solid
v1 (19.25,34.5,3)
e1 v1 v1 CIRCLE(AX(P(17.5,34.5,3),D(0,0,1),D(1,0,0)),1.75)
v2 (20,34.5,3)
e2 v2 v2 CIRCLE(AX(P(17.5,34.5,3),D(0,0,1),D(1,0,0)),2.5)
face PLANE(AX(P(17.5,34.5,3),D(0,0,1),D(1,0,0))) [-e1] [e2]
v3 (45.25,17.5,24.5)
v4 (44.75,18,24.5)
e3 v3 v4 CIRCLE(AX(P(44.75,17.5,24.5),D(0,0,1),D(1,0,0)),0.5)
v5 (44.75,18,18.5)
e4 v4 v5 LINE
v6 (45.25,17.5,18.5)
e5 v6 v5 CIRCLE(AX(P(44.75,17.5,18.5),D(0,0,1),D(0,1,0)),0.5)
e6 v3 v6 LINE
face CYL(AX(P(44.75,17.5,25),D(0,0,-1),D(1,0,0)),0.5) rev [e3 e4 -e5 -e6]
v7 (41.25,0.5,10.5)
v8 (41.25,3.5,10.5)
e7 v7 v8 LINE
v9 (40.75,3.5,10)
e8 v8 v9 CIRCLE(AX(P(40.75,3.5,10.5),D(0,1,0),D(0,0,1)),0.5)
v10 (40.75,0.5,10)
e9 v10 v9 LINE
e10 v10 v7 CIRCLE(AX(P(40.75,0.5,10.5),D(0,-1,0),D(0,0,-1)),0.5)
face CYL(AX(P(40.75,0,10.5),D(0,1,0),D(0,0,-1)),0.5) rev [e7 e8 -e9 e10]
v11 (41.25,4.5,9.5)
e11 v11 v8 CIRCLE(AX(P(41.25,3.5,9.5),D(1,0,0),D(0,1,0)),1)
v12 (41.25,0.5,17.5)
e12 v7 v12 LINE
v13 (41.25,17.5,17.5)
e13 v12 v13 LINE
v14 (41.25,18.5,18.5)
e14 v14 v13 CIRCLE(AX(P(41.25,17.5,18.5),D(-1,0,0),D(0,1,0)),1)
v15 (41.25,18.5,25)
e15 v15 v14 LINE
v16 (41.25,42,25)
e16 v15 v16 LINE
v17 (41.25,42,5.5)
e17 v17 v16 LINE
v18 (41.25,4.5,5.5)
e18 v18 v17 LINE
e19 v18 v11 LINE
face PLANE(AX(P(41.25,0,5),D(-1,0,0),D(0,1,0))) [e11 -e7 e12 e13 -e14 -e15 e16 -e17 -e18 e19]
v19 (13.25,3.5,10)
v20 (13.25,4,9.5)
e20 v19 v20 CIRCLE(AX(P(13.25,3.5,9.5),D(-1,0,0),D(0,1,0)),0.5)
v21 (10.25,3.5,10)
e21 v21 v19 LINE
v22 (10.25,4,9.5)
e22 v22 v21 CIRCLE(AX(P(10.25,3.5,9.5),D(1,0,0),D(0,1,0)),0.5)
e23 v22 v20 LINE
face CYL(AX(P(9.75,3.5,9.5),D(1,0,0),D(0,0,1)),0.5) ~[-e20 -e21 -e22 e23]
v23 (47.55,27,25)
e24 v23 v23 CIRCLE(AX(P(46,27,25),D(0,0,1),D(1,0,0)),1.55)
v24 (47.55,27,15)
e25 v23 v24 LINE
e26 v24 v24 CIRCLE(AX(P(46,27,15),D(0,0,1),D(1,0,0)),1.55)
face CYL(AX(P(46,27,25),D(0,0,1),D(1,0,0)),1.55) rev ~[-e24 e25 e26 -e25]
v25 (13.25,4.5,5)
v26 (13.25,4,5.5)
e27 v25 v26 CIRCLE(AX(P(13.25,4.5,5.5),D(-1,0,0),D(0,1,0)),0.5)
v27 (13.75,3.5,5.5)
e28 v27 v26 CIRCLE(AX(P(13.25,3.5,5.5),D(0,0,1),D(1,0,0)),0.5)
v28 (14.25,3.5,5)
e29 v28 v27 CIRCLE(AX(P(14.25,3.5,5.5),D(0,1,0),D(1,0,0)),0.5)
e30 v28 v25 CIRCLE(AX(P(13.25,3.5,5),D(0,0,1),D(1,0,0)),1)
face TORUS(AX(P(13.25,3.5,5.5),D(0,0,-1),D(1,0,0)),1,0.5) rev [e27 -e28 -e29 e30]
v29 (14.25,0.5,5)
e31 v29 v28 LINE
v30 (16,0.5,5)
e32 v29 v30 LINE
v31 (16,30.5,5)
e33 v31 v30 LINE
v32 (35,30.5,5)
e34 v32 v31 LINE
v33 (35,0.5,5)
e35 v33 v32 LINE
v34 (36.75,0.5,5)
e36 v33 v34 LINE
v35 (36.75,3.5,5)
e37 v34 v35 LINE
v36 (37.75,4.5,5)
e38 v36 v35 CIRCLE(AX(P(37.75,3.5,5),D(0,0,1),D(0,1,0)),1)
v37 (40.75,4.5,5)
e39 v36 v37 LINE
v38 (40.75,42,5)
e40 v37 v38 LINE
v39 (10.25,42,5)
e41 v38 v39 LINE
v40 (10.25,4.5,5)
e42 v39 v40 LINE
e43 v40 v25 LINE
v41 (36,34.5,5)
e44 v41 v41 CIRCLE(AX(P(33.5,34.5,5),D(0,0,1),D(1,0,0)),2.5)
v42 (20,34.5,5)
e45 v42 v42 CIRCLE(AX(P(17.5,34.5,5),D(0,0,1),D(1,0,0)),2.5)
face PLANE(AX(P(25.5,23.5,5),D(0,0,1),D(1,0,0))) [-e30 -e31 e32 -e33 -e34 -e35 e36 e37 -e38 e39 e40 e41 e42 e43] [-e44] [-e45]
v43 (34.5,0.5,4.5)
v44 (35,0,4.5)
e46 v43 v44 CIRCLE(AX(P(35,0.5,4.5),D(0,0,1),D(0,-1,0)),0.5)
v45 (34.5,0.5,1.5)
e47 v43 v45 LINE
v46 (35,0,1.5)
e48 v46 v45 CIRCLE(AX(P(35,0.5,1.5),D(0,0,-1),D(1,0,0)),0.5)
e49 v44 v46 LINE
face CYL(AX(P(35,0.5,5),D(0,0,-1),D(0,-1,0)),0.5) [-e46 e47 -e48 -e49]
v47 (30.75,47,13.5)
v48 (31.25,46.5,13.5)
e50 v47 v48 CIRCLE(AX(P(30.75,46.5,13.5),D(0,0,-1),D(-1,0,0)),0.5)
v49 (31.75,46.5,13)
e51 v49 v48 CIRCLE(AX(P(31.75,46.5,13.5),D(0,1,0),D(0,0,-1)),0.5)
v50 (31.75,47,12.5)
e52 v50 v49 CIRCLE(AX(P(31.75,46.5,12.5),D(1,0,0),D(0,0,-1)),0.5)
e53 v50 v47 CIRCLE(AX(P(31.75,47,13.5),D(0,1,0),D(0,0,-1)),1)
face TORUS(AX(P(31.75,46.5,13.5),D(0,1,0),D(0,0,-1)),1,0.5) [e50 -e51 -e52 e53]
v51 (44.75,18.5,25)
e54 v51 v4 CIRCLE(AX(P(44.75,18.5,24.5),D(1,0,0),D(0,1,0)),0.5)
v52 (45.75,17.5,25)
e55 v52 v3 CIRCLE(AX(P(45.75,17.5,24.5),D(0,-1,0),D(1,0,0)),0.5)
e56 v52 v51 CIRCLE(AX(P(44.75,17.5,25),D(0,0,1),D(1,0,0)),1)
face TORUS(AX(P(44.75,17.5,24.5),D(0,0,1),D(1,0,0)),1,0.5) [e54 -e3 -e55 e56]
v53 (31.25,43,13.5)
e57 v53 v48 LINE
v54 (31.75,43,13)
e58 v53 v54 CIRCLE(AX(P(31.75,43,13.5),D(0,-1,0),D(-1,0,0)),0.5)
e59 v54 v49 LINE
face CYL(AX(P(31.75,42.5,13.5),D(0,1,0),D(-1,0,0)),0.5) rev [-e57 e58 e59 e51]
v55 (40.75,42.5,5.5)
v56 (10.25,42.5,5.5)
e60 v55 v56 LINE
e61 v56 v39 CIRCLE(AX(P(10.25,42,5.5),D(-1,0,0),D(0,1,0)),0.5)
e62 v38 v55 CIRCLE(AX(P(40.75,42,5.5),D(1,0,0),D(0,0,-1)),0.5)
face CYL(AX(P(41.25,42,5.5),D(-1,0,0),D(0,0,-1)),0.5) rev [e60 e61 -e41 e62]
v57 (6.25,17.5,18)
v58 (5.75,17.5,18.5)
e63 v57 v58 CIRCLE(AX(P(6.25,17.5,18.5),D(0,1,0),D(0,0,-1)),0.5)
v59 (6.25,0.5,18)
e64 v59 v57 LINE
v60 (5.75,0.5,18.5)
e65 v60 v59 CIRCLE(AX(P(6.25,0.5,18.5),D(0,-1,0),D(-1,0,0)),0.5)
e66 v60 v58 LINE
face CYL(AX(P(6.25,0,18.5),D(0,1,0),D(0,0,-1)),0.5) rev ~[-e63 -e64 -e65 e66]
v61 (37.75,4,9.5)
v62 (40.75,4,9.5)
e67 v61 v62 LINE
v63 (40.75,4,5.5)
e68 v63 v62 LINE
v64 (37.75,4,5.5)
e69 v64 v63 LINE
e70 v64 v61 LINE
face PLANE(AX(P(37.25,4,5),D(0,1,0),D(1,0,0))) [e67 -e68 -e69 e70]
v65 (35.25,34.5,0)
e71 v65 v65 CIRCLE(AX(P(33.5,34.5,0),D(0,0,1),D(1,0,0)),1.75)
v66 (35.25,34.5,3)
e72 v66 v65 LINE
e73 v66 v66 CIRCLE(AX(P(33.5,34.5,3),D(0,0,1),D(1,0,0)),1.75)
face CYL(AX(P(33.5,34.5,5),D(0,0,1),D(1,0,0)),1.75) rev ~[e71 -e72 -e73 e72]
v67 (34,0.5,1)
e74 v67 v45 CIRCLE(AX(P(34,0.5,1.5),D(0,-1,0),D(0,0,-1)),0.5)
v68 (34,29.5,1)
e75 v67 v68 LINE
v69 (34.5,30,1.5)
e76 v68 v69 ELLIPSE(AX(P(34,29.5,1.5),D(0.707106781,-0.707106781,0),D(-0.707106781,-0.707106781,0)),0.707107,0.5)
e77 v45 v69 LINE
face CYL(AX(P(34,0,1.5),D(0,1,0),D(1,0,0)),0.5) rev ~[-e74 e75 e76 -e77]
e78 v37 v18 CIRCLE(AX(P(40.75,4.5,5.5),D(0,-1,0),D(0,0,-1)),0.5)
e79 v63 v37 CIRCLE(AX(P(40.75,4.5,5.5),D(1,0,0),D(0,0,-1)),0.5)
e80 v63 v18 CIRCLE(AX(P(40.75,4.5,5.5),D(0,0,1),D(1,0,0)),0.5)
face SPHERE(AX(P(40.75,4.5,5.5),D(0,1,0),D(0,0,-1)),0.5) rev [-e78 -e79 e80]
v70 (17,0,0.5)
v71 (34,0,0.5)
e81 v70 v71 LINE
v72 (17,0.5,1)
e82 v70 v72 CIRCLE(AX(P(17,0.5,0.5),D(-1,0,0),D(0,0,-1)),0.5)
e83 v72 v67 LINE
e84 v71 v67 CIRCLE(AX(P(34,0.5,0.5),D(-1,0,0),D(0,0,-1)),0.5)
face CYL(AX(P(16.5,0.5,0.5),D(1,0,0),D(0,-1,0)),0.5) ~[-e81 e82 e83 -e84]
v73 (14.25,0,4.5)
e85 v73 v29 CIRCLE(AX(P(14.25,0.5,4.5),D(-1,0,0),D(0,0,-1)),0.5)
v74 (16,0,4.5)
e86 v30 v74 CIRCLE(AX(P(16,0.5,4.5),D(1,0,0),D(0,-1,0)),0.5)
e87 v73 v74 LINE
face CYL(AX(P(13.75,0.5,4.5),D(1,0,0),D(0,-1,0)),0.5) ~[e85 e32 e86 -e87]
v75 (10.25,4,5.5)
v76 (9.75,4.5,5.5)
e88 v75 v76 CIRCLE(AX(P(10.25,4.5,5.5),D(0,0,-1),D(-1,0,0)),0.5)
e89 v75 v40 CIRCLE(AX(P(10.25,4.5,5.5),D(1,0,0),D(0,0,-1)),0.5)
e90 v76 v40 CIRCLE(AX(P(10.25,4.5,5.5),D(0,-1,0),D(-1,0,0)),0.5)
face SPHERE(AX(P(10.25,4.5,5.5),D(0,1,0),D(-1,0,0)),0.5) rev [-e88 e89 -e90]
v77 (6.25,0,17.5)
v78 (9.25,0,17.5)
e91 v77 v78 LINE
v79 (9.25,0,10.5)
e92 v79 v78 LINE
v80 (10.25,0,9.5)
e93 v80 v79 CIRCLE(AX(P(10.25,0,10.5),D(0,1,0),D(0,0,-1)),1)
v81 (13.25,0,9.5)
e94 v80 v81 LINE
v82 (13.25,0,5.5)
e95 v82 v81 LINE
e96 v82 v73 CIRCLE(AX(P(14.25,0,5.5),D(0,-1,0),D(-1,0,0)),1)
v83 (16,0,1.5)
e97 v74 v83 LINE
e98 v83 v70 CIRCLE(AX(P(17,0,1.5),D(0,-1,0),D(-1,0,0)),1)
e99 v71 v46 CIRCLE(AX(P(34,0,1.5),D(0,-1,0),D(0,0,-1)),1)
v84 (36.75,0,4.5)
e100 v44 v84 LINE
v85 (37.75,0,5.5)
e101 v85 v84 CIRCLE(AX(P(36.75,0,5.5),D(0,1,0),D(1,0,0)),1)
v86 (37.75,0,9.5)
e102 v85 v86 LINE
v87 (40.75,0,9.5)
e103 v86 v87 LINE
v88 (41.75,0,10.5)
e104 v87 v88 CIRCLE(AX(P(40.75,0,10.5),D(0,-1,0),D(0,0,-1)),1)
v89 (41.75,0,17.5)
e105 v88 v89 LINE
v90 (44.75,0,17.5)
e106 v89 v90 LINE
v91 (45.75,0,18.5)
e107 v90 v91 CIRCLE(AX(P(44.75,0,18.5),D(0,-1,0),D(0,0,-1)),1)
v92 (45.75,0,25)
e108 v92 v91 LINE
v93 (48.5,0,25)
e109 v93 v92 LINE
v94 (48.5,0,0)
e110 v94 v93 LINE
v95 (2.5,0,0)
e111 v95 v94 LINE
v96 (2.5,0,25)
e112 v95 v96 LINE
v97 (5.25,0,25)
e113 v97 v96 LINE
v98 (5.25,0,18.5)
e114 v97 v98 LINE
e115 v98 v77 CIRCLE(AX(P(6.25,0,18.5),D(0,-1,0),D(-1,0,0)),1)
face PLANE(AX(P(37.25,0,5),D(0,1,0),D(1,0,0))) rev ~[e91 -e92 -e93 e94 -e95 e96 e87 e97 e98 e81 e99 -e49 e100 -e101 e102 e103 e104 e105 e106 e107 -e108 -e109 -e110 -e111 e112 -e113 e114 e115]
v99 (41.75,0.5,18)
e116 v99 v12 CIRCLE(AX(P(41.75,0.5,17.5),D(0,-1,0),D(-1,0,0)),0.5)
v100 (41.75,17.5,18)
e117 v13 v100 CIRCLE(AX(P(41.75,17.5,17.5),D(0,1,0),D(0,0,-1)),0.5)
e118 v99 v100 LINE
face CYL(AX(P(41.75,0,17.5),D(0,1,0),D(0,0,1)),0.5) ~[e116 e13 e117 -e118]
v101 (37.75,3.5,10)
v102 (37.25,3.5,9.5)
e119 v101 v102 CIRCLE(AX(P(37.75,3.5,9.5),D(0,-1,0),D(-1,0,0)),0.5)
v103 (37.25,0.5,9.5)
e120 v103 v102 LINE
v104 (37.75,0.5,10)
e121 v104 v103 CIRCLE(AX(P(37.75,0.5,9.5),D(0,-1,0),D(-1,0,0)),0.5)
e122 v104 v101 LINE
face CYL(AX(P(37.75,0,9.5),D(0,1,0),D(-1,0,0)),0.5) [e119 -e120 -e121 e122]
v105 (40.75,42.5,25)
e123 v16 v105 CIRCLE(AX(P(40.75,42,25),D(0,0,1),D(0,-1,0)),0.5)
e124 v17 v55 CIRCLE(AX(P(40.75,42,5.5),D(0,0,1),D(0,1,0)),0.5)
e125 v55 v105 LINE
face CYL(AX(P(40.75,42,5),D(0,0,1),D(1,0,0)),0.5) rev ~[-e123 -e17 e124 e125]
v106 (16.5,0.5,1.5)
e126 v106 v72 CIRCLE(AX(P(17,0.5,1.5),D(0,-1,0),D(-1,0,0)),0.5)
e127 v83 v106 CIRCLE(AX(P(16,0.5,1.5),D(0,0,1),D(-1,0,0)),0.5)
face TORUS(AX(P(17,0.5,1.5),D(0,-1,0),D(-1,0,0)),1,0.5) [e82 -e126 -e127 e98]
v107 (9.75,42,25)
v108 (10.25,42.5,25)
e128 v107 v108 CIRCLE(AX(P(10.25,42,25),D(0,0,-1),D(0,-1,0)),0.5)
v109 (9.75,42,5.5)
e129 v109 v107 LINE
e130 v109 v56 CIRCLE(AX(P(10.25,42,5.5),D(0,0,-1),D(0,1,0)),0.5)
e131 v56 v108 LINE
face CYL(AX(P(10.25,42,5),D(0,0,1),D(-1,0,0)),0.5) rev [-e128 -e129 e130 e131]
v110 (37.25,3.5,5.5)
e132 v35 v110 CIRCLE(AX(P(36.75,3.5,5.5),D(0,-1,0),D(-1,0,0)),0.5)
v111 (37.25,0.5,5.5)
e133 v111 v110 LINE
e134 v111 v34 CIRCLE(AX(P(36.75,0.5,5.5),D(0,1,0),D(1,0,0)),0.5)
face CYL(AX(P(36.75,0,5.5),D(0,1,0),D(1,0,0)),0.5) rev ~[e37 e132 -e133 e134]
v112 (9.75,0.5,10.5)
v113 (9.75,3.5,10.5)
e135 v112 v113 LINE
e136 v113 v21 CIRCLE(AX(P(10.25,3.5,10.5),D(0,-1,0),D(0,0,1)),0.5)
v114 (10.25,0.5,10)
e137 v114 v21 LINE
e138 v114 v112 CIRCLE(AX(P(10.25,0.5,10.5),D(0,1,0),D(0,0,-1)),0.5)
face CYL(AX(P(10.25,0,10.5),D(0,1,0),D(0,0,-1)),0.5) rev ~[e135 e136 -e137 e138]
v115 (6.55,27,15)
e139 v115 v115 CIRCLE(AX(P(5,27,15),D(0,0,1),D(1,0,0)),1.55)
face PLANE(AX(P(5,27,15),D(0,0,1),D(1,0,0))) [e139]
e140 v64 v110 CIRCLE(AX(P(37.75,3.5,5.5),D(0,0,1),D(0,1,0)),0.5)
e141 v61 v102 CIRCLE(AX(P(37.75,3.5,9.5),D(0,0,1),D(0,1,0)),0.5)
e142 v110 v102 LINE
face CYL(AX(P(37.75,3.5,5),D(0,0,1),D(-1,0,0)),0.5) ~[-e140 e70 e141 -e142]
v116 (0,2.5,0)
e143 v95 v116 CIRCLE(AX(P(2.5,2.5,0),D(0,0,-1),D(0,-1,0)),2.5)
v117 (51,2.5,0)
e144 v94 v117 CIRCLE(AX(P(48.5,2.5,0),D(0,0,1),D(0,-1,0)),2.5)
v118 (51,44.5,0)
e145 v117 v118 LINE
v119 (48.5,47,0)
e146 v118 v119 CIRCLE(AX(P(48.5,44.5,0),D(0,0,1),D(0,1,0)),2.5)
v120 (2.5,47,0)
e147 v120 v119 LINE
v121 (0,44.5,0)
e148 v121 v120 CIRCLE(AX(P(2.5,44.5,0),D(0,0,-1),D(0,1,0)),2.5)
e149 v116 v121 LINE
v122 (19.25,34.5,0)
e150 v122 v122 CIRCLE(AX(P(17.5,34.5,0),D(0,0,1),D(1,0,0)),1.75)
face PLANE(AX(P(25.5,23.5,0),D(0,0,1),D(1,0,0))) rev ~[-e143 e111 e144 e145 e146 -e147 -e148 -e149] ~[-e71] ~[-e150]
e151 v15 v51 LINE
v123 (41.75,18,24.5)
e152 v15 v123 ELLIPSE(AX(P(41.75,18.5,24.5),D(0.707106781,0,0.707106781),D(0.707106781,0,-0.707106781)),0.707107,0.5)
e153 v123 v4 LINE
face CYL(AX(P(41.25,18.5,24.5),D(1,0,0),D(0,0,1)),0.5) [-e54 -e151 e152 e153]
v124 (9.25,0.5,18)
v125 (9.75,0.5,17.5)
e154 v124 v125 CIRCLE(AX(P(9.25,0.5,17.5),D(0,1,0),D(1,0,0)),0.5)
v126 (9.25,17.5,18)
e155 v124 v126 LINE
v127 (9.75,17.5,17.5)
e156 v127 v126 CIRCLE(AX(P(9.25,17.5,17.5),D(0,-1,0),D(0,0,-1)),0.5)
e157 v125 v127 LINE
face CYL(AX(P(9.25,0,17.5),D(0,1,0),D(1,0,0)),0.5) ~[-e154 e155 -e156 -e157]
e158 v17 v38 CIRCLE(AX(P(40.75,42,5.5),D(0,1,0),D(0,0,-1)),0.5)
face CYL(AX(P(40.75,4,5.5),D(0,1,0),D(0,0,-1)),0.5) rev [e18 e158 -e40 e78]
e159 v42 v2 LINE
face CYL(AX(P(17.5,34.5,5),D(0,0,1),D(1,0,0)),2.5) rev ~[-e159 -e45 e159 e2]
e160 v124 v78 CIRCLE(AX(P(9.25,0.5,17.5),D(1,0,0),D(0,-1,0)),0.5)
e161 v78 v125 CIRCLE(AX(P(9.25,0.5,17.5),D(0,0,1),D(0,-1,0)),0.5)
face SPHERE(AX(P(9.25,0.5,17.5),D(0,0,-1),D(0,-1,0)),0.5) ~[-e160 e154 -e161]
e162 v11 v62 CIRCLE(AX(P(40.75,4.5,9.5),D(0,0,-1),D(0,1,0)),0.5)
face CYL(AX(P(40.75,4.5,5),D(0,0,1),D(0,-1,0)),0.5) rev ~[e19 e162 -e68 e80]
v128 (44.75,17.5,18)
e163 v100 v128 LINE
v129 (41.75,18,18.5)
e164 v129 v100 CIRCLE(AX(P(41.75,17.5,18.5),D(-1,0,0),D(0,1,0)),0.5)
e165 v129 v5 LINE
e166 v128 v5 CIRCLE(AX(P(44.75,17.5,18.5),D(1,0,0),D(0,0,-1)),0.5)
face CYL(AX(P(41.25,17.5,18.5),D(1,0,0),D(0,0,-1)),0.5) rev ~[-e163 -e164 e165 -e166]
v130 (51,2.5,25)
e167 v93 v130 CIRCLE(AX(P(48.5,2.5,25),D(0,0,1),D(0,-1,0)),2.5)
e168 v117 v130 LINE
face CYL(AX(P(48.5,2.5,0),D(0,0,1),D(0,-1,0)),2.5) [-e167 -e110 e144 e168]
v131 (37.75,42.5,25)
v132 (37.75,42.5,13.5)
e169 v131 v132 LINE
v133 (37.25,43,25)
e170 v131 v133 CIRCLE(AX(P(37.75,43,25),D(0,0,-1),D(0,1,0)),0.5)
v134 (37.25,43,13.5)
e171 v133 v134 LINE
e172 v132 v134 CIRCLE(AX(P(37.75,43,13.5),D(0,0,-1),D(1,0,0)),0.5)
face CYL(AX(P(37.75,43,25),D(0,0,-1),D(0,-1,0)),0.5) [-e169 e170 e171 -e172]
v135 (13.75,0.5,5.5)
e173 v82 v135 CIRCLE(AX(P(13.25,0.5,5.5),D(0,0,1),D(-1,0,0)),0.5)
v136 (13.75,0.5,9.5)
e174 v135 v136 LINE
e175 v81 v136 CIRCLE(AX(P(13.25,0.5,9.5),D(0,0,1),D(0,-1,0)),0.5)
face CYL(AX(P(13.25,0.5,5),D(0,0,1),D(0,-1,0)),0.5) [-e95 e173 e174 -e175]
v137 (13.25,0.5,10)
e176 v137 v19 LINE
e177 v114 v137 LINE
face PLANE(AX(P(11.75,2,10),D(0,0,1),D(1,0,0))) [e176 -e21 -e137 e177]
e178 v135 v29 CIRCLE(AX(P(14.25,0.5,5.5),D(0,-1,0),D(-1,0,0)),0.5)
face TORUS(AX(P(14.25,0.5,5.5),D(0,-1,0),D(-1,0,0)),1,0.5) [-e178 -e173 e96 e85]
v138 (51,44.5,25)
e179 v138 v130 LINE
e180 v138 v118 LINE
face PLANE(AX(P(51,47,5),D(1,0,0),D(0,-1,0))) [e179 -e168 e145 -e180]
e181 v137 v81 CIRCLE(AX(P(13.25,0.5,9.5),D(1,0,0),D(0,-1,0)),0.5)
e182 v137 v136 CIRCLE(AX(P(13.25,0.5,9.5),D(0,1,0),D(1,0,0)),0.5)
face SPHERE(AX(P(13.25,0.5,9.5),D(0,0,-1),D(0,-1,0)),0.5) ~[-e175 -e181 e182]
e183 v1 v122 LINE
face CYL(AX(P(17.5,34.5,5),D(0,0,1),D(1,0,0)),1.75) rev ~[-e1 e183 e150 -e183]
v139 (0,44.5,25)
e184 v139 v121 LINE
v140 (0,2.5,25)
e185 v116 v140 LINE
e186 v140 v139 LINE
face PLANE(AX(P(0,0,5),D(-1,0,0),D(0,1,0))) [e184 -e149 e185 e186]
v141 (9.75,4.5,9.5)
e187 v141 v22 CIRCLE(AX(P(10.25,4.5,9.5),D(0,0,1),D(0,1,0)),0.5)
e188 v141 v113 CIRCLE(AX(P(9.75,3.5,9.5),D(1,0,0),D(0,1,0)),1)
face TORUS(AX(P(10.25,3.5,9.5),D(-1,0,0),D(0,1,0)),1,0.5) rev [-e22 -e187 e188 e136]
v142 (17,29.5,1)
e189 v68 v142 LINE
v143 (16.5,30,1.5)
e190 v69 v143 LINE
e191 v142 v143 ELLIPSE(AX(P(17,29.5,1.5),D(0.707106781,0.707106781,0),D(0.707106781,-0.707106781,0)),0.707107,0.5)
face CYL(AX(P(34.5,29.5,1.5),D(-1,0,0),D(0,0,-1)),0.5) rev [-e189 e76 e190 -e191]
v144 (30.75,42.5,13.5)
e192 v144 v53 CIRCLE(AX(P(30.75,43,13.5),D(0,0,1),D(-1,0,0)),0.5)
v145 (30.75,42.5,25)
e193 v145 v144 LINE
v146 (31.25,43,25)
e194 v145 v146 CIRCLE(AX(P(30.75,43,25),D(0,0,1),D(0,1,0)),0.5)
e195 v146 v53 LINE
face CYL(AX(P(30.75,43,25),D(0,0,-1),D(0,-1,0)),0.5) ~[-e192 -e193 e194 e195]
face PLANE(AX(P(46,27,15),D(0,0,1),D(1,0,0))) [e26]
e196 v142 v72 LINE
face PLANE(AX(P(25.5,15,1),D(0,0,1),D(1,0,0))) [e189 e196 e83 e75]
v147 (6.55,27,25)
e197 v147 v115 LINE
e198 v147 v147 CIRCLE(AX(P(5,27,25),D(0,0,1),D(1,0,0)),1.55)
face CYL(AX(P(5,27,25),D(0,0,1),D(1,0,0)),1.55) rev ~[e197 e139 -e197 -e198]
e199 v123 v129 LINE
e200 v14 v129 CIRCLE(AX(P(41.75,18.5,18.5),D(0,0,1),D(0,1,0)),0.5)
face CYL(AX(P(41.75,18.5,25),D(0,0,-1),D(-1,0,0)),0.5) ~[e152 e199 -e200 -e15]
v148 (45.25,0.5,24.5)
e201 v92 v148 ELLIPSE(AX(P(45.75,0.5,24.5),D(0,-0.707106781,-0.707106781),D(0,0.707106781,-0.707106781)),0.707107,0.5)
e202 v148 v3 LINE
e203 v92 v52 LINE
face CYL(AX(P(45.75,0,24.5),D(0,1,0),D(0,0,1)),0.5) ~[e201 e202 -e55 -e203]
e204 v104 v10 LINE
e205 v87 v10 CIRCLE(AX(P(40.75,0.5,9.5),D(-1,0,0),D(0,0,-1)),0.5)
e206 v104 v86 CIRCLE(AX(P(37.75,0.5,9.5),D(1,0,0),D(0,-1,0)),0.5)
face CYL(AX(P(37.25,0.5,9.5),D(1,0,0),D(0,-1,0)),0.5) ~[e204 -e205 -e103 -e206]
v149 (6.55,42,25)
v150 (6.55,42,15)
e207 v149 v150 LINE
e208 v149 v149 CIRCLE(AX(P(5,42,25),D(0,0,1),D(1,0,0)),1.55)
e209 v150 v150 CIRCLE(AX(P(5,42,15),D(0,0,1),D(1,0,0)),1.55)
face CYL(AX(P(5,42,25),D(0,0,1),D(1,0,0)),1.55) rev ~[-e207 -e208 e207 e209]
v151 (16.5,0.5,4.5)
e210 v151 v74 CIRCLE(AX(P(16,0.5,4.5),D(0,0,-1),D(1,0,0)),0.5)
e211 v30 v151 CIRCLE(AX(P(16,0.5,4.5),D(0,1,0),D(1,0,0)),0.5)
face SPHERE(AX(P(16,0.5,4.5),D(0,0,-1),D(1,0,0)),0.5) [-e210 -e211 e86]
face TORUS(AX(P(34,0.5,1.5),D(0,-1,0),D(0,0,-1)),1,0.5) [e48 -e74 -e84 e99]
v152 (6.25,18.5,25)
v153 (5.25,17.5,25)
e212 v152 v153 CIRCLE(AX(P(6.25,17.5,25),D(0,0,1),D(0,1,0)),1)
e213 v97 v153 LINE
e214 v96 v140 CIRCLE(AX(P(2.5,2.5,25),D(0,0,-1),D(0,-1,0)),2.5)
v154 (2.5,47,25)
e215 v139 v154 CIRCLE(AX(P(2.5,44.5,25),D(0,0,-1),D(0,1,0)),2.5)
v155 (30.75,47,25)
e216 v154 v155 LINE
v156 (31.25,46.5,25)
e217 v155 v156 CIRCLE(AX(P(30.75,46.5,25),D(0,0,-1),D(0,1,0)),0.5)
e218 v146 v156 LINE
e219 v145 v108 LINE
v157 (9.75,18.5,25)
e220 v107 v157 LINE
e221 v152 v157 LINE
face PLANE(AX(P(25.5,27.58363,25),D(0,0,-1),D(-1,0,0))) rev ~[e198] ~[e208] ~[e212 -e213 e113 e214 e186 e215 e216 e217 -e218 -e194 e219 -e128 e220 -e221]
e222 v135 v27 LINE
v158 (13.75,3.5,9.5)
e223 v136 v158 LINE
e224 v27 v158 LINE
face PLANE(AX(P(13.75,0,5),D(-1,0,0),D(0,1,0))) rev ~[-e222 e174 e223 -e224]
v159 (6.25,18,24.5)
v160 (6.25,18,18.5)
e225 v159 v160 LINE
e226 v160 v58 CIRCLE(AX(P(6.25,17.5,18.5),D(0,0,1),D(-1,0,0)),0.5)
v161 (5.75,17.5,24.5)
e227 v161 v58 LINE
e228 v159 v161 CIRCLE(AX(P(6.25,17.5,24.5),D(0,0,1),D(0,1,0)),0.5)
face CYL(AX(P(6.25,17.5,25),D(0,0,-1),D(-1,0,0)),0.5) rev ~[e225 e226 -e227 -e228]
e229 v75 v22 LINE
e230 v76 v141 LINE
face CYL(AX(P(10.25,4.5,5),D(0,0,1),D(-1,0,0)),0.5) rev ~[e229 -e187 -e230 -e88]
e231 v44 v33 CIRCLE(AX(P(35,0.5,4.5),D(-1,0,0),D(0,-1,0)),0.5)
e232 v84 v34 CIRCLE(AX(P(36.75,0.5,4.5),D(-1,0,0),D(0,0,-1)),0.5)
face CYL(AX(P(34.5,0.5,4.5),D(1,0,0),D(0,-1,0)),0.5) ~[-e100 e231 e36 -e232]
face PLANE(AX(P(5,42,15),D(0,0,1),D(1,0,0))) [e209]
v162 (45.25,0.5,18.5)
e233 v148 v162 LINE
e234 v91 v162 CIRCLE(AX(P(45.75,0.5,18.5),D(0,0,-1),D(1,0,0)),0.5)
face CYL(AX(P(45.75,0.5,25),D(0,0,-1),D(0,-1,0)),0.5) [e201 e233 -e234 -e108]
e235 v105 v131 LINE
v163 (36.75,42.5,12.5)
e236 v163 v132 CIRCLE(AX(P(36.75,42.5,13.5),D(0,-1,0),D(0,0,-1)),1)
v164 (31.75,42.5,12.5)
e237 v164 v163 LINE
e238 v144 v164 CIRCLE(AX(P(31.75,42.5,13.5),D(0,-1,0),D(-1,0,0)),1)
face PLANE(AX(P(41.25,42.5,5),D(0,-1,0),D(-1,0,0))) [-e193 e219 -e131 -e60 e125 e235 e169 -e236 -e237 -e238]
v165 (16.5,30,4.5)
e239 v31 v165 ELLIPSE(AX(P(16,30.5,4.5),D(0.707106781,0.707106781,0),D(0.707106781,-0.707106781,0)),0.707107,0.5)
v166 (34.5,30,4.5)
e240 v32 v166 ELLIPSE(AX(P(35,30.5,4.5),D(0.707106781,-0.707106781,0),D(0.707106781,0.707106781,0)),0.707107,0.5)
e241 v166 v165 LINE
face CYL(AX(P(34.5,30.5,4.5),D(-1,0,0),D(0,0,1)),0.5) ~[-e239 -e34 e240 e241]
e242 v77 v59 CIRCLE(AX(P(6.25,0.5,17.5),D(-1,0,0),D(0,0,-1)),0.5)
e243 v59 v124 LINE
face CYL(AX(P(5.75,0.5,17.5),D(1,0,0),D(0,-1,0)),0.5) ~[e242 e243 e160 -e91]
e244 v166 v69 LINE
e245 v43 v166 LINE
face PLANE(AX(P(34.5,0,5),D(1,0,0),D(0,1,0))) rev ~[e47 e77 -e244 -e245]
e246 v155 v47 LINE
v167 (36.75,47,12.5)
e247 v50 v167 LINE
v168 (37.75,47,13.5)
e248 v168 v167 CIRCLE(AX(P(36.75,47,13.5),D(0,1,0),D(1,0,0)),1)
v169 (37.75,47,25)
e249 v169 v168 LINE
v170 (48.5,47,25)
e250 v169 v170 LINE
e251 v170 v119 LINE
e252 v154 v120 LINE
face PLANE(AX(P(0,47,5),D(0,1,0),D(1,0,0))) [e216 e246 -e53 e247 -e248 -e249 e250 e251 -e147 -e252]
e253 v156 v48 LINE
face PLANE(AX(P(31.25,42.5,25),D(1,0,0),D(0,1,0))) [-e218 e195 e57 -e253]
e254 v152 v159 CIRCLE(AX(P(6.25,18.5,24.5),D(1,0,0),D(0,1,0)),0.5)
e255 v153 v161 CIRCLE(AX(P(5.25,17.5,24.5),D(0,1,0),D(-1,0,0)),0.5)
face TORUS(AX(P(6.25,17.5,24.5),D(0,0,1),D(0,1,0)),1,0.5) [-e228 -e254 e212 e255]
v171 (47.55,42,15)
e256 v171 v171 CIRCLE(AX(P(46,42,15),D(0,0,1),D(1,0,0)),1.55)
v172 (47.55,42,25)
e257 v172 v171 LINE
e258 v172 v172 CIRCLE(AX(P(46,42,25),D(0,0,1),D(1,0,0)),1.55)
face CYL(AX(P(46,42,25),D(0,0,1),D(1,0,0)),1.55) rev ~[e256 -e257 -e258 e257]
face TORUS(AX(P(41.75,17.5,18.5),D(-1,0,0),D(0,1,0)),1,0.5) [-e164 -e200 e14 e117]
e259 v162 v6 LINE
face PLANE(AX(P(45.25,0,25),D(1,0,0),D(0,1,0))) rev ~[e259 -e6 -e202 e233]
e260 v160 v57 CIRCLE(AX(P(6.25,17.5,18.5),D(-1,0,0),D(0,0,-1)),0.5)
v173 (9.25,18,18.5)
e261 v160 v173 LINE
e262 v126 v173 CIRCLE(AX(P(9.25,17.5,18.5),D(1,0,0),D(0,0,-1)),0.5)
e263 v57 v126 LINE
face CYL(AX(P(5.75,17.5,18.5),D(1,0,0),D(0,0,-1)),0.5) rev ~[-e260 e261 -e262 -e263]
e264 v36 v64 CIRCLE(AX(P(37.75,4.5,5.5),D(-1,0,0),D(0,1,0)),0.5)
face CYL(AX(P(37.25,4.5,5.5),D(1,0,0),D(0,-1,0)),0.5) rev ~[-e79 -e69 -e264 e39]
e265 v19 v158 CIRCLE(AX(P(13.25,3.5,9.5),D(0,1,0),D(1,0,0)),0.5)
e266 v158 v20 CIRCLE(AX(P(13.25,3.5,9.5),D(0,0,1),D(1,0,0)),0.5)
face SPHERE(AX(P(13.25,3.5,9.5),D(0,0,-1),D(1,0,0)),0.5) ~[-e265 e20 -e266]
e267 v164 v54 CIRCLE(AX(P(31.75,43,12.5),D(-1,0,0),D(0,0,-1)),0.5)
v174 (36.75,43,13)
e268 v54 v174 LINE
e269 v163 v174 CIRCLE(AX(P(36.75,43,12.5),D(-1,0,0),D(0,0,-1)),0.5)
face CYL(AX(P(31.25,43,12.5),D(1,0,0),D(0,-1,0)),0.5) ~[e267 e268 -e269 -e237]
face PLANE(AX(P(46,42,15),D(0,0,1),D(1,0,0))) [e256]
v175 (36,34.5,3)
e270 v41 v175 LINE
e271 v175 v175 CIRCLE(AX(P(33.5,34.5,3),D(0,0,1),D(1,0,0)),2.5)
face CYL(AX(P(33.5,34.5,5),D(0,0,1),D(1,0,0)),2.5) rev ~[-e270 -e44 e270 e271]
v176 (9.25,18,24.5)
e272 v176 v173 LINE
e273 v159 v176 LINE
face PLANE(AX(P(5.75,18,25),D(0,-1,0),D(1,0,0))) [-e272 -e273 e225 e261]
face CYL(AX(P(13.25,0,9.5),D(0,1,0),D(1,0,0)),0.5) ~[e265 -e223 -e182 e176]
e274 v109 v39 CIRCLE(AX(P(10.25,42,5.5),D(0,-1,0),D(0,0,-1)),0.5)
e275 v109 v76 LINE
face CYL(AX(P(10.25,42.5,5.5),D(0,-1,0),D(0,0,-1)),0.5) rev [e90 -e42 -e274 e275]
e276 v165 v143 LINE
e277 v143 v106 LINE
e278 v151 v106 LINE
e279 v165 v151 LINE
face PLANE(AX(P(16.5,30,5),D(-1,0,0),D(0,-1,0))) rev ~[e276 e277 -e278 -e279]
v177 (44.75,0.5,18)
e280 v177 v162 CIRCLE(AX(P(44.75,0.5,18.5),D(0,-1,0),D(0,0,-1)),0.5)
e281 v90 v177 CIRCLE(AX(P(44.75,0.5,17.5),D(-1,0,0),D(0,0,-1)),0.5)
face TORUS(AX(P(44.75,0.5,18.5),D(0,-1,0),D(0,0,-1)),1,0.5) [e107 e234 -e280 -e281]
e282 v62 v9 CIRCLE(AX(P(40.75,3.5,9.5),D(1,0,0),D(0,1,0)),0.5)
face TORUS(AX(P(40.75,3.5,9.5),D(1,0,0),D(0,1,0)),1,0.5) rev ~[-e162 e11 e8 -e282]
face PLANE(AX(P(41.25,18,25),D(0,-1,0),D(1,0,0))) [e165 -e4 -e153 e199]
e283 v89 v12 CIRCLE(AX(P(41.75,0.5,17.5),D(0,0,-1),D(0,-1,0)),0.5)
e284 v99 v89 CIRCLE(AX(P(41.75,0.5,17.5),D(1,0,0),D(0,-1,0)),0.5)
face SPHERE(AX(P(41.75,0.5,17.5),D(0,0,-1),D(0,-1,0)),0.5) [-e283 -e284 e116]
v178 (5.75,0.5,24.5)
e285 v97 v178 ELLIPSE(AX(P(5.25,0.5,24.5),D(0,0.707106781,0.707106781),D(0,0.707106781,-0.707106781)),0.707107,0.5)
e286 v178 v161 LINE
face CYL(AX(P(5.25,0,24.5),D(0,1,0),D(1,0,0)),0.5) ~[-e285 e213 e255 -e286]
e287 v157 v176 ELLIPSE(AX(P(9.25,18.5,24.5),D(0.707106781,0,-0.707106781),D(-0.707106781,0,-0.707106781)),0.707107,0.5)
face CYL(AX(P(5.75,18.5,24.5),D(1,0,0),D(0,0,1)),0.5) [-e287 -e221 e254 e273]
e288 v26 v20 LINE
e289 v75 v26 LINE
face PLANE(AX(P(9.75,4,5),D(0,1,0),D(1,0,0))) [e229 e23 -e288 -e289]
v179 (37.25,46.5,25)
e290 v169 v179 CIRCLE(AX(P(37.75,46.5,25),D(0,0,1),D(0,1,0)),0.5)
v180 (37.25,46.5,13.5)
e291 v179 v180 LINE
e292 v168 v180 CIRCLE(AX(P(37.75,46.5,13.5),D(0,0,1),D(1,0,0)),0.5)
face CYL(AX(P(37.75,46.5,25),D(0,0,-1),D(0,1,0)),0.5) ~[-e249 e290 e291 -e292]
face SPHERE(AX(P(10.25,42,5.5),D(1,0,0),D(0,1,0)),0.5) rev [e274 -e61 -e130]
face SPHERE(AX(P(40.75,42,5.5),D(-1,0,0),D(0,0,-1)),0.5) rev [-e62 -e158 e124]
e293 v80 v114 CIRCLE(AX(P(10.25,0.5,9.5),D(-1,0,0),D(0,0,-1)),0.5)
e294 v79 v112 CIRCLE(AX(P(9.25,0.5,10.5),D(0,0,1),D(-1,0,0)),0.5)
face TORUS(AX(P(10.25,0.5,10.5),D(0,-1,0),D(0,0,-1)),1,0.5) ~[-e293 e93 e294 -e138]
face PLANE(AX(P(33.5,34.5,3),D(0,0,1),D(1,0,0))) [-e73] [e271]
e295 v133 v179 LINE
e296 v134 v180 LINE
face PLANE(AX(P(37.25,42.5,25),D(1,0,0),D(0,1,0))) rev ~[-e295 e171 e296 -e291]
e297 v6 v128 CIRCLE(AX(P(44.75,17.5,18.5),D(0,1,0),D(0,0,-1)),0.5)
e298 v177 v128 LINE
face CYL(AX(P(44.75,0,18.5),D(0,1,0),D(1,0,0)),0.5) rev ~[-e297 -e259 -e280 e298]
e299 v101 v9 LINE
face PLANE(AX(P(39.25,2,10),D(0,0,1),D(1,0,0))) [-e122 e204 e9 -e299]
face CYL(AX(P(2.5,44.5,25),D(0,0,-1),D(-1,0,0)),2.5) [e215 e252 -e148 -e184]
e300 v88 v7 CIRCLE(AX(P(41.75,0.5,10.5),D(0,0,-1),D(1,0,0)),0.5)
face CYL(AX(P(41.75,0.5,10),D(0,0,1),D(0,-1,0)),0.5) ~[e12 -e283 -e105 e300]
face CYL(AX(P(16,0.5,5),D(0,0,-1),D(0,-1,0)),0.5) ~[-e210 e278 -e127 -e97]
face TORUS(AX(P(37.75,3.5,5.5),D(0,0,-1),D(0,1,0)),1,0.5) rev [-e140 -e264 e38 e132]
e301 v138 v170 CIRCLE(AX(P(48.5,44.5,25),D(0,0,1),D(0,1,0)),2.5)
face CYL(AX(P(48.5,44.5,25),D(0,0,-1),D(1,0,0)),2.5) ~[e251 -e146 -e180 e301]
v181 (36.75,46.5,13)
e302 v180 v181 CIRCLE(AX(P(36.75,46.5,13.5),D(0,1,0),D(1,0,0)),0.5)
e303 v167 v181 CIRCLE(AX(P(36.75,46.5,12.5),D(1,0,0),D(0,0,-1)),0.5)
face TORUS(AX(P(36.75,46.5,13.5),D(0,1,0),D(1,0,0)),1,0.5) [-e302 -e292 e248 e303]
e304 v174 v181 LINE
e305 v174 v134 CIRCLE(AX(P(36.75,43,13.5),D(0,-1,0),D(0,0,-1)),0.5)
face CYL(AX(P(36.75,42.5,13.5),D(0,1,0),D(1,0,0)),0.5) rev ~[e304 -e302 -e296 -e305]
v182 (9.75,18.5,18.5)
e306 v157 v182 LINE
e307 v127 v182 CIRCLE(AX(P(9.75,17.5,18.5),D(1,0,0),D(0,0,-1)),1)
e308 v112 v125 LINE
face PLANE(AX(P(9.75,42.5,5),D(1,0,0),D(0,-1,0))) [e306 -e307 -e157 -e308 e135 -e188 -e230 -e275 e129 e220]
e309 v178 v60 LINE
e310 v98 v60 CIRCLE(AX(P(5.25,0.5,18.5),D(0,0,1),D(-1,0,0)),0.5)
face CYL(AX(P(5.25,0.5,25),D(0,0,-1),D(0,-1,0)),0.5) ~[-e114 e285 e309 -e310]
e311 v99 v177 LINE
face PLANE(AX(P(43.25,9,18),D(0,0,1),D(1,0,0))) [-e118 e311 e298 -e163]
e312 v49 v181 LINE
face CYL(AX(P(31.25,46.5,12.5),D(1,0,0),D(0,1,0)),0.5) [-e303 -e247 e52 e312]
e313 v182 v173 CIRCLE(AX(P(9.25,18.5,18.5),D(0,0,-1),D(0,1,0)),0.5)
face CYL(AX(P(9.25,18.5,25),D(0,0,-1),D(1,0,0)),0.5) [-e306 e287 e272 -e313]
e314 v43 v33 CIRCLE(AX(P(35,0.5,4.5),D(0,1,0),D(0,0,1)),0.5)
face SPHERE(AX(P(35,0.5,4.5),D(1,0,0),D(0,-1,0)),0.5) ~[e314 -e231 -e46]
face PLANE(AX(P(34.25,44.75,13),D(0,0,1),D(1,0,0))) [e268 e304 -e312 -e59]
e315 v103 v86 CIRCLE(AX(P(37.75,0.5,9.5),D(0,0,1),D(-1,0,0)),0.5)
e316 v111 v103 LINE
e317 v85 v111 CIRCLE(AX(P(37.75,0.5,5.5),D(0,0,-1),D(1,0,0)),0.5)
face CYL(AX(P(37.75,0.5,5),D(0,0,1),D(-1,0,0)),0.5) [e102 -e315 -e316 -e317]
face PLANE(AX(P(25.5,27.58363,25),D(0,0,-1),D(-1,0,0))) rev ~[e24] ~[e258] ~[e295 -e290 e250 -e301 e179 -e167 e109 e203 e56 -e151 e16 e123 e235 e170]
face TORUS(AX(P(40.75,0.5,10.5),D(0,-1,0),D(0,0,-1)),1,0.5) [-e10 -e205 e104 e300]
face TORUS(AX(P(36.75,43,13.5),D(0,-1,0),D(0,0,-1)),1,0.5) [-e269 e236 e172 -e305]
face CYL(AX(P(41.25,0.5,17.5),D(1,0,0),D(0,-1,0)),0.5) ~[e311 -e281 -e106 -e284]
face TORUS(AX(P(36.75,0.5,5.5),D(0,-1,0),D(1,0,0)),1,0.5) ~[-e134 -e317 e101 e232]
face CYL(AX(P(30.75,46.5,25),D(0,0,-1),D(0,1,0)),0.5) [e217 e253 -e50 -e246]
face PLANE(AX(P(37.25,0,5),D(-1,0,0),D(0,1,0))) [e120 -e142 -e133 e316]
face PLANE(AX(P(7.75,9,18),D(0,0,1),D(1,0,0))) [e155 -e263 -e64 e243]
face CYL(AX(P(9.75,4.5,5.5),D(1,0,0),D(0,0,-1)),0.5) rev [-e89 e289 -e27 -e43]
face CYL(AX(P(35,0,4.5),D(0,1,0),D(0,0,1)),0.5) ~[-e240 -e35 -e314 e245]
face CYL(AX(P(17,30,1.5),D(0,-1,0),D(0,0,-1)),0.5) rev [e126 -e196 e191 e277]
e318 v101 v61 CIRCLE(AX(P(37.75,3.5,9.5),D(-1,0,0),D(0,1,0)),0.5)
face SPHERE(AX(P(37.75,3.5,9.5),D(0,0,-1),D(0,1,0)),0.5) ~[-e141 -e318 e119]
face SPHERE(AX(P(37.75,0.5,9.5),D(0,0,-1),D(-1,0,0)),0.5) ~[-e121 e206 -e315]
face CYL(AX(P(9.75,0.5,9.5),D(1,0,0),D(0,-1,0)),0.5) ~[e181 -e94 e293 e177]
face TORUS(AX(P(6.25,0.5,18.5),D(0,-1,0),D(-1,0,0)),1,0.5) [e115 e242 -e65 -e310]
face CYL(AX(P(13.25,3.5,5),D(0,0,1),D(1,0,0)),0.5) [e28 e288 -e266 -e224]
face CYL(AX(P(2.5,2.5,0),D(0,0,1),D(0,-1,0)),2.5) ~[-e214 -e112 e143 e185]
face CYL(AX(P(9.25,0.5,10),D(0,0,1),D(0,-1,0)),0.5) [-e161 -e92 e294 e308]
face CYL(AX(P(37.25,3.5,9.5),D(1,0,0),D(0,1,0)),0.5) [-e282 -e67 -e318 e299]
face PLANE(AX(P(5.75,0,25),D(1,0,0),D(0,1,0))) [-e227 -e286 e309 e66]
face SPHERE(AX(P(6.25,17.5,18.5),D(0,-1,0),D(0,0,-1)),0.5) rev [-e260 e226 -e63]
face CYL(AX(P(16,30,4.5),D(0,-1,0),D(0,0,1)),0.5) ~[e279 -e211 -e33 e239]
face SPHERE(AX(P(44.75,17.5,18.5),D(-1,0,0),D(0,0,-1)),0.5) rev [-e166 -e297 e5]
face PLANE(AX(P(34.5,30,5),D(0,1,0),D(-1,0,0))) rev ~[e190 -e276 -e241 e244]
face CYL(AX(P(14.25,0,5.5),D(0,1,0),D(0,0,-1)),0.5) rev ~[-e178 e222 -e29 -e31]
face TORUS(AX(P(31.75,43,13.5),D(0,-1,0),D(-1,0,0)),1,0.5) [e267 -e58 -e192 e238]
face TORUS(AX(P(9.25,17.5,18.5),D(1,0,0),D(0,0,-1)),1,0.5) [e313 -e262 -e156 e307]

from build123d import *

# Parameters (mm, degrees)
SKETCH1_W           = 51
SKETCH1_H           = 47
BOSS_EXTRUDE1_DEPTH = 5
BOSS_EXTRUDE2_DEPTH = 20
SKETCH4_W           = 4
SKETCH4_H           = 4
BOSS_EXTRUDE3_DEPTH = 5
SKETCH5_W           = 4
SKETCH5_H           = 18
CUT_EXTRUDE1_DEPTH  = 7
SKETCH7_W           = 6
SKETCH7_H           = 4.5
CUT_EXTRUDE2_DEPTH  = 12
CUT_EXTRUDE3_DEPTH  = 4
SKETCH9_R           = 1.55
CUT_EXTRUDE4_DEPTH  = 10
SKETCH10_R          = 1.75
CUT_EXTRUDE5_DEPTH  = 73.18032973
SKETCH11_R          = 2.5
CUT_EXTRUDE6_DEPTH  = 2
FILLET1_R           = 0.5
FILLET2_R           = 2.5


with BuildPart() as part:
    # Sketch1 → Boss-Extrude1 (new body)
    with BuildSketch(Plane.XY):
        with Locations((25.5, 23.5)):
            Rectangle(SKETCH1_W, SKETCH1_H)
    extrude(amount=BOSS_EXTRUDE1_DEPTH)

    # Sketch2 → Boss-Extrude2 (add)
    with BuildSketch(Plane.XY.offset(5)):
        Polygon((0, 0), (0, 47), (51, 47), (51, 0), (41.25, 0), (41.25, 42.5), (9.75, 42.5), (9.75, 0), align=None)
    extrude(amount=BOSS_EXTRUDE2_DEPTH)

    # Sketch4 → Boss-Extrude3 (add)
    with BuildSketch(Plane.XY.offset(5)):
        with Locations((39.25, 2)):
            Rectangle(SKETCH4_W, SKETCH4_H)
        with Locations((11.75, 2)):
            Rectangle(SKETCH4_W, SKETCH4_H)
    extrude(amount=BOSS_EXTRUDE3_DEPTH)

    # Sketch5 → Cut-Extrude1 (cut)
    with BuildSketch(Plane.XY.offset(25)):
        with Locations((43.25, 9)):
            Rectangle(SKETCH5_W, SKETCH5_H)
        with Locations((7.75, 9)):
            Rectangle(SKETCH5_W, SKETCH5_H)
    extrude(amount=-CUT_EXTRUDE1_DEPTH, mode=Mode.SUBTRACT)

    # Sketch7 → Cut-Extrude2 (cut)
    with BuildSketch(Plane.XY.offset(25)):
        with Locations((34.25, 44.75)):
            Rectangle(SKETCH7_W, SKETCH7_H)
    extrude(amount=-CUT_EXTRUDE2_DEPTH, mode=Mode.SUBTRACT)

    # Sketch8 → Cut-Extrude3 (cut)
    with BuildSketch(Plane.XY.offset(5)):
        Polygon((25.5, 0), (34.5, 0), (34.5, 30), (16.5, 30), (16.5, 0), align=None)
    extrude(amount=-CUT_EXTRUDE3_DEPTH, mode=Mode.SUBTRACT)

    # Sketch9 → Cut-Extrude4 (cut)
    with BuildSketch(Plane.XY.offset(25)):
        with Locations((5, 27)):
            Circle(SKETCH9_R)
        with Locations((5, 42)):
            Circle(SKETCH9_R)
        with Locations((46, 42)):
            Circle(SKETCH9_R)
        with Locations((46, 27)):
            Circle(SKETCH9_R)
    extrude(amount=-CUT_EXTRUDE4_DEPTH, mode=Mode.SUBTRACT)

    # Sketch10 → Cut-Extrude5 (cut, through all)
    with BuildSketch(Plane.XY.offset(5)):
        with Locations((17.5, 34.5)):
            Circle(SKETCH10_R)
        with Locations((33.5, 34.5)):
            Circle(SKETCH10_R)
    extrude(amount=-CUT_EXTRUDE5_DEPTH, mode=Mode.SUBTRACT)

    # Sketch11 → Cut-Extrude6 (cut)
    with BuildSketch(Plane.XY.offset(5)):
        with Locations((17.5, 34.5)):
            Circle(SKETCH11_R)
        with Locations((33.5, 34.5)):
            Circle(SKETCH11_R)
    extrude(amount=-CUT_EXTRUDE6_DEPTH, mode=Mode.SUBTRACT)

    # Fillet1
    fillet1_edges = [part.edges().sort_by_distance(p)[0] for p in [
        (35.875, 0, 5),
        (16.5, 15, 1),
        (16.5, 0, 3),
        (25.5, 30, 1),
        (34.5, 15, 1),
        (25.5, 0, 1),
        (34.5, 0, 3),
        (16.5, 15, 5),
        (34.5, 15, 5),
        (25.5, 30, 5),
        (25.5, 42.5, 5),
        (9.75, 42.5, 15),
        (41.25, 23.25, 5),
        (41.25, 42.5, 15),
        (39.25, 4, 5),
        (41.25, 4, 7.5),
        (37.25, 2, 5),
        (37.25, 4, 7.5),
        (37.25, 0, 7.5),
        (41.25, 2, 10),
        (39.25, 4, 10),
        (37.25, 2, 10),
        (39.25, 0, 10),
        (9.75, 23.25, 5),
        (15.125, 0, 5),
        (9.75, 4, 7.5),
        (13.75, 2, 5),
        (13.75, 0, 7.5),
        (11.75, 4, 5),
        (13.75, 4, 7.5),
        (9.75, 2, 10),
        (11.75, 0, 10),
        (13.75, 2, 10),
        (11.75, 4, 10),
        (9.75, 0, 14),
        (41.25, 0, 14),
        (43.25, 0, 18),
        (45.25, 0, 21.5),
        (41.25, 9, 18),
        (43.25, 18, 18),
        (41.25, 18, 21.5),
        (45.25, 9, 18),
        (45.25, 18, 21.5),
        (45.25, 9, 25),
        (43.25, 18, 25),
        (7.75, 0, 18),
        (5.75, 9, 18),
        (5.75, 0, 21.5),
        (7.75, 18, 18),
        (5.75, 18, 21.5),
        (9.75, 9, 18),
        (9.75, 18, 21.5),
        (7.75, 18, 25),
        (5.75, 9, 25),
        (34.25, 47, 13),
        (31.25, 47, 19),
        (37.25, 44.75, 13),
        (37.25, 47, 19),
        (34.25, 42.5, 13),
        (37.25, 42.5, 19),
        (31.25, 44.75, 13),
        (31.25, 42.5, 19),
    ]]
    fillet(fillet1_edges, radius=FILLET1_R)

    # Fillet2
    fillet2_edges = [part.edges().sort_by_distance(p)[0] for p in [
        (0, 47, 12.5),
        (51, 47, 12.5),
        (51, 0, 12.5),
        (0, 0, 12.5),
    ]]
    fillet(fillet2_edges, radius=FILLET2_R)


solid = part.part
